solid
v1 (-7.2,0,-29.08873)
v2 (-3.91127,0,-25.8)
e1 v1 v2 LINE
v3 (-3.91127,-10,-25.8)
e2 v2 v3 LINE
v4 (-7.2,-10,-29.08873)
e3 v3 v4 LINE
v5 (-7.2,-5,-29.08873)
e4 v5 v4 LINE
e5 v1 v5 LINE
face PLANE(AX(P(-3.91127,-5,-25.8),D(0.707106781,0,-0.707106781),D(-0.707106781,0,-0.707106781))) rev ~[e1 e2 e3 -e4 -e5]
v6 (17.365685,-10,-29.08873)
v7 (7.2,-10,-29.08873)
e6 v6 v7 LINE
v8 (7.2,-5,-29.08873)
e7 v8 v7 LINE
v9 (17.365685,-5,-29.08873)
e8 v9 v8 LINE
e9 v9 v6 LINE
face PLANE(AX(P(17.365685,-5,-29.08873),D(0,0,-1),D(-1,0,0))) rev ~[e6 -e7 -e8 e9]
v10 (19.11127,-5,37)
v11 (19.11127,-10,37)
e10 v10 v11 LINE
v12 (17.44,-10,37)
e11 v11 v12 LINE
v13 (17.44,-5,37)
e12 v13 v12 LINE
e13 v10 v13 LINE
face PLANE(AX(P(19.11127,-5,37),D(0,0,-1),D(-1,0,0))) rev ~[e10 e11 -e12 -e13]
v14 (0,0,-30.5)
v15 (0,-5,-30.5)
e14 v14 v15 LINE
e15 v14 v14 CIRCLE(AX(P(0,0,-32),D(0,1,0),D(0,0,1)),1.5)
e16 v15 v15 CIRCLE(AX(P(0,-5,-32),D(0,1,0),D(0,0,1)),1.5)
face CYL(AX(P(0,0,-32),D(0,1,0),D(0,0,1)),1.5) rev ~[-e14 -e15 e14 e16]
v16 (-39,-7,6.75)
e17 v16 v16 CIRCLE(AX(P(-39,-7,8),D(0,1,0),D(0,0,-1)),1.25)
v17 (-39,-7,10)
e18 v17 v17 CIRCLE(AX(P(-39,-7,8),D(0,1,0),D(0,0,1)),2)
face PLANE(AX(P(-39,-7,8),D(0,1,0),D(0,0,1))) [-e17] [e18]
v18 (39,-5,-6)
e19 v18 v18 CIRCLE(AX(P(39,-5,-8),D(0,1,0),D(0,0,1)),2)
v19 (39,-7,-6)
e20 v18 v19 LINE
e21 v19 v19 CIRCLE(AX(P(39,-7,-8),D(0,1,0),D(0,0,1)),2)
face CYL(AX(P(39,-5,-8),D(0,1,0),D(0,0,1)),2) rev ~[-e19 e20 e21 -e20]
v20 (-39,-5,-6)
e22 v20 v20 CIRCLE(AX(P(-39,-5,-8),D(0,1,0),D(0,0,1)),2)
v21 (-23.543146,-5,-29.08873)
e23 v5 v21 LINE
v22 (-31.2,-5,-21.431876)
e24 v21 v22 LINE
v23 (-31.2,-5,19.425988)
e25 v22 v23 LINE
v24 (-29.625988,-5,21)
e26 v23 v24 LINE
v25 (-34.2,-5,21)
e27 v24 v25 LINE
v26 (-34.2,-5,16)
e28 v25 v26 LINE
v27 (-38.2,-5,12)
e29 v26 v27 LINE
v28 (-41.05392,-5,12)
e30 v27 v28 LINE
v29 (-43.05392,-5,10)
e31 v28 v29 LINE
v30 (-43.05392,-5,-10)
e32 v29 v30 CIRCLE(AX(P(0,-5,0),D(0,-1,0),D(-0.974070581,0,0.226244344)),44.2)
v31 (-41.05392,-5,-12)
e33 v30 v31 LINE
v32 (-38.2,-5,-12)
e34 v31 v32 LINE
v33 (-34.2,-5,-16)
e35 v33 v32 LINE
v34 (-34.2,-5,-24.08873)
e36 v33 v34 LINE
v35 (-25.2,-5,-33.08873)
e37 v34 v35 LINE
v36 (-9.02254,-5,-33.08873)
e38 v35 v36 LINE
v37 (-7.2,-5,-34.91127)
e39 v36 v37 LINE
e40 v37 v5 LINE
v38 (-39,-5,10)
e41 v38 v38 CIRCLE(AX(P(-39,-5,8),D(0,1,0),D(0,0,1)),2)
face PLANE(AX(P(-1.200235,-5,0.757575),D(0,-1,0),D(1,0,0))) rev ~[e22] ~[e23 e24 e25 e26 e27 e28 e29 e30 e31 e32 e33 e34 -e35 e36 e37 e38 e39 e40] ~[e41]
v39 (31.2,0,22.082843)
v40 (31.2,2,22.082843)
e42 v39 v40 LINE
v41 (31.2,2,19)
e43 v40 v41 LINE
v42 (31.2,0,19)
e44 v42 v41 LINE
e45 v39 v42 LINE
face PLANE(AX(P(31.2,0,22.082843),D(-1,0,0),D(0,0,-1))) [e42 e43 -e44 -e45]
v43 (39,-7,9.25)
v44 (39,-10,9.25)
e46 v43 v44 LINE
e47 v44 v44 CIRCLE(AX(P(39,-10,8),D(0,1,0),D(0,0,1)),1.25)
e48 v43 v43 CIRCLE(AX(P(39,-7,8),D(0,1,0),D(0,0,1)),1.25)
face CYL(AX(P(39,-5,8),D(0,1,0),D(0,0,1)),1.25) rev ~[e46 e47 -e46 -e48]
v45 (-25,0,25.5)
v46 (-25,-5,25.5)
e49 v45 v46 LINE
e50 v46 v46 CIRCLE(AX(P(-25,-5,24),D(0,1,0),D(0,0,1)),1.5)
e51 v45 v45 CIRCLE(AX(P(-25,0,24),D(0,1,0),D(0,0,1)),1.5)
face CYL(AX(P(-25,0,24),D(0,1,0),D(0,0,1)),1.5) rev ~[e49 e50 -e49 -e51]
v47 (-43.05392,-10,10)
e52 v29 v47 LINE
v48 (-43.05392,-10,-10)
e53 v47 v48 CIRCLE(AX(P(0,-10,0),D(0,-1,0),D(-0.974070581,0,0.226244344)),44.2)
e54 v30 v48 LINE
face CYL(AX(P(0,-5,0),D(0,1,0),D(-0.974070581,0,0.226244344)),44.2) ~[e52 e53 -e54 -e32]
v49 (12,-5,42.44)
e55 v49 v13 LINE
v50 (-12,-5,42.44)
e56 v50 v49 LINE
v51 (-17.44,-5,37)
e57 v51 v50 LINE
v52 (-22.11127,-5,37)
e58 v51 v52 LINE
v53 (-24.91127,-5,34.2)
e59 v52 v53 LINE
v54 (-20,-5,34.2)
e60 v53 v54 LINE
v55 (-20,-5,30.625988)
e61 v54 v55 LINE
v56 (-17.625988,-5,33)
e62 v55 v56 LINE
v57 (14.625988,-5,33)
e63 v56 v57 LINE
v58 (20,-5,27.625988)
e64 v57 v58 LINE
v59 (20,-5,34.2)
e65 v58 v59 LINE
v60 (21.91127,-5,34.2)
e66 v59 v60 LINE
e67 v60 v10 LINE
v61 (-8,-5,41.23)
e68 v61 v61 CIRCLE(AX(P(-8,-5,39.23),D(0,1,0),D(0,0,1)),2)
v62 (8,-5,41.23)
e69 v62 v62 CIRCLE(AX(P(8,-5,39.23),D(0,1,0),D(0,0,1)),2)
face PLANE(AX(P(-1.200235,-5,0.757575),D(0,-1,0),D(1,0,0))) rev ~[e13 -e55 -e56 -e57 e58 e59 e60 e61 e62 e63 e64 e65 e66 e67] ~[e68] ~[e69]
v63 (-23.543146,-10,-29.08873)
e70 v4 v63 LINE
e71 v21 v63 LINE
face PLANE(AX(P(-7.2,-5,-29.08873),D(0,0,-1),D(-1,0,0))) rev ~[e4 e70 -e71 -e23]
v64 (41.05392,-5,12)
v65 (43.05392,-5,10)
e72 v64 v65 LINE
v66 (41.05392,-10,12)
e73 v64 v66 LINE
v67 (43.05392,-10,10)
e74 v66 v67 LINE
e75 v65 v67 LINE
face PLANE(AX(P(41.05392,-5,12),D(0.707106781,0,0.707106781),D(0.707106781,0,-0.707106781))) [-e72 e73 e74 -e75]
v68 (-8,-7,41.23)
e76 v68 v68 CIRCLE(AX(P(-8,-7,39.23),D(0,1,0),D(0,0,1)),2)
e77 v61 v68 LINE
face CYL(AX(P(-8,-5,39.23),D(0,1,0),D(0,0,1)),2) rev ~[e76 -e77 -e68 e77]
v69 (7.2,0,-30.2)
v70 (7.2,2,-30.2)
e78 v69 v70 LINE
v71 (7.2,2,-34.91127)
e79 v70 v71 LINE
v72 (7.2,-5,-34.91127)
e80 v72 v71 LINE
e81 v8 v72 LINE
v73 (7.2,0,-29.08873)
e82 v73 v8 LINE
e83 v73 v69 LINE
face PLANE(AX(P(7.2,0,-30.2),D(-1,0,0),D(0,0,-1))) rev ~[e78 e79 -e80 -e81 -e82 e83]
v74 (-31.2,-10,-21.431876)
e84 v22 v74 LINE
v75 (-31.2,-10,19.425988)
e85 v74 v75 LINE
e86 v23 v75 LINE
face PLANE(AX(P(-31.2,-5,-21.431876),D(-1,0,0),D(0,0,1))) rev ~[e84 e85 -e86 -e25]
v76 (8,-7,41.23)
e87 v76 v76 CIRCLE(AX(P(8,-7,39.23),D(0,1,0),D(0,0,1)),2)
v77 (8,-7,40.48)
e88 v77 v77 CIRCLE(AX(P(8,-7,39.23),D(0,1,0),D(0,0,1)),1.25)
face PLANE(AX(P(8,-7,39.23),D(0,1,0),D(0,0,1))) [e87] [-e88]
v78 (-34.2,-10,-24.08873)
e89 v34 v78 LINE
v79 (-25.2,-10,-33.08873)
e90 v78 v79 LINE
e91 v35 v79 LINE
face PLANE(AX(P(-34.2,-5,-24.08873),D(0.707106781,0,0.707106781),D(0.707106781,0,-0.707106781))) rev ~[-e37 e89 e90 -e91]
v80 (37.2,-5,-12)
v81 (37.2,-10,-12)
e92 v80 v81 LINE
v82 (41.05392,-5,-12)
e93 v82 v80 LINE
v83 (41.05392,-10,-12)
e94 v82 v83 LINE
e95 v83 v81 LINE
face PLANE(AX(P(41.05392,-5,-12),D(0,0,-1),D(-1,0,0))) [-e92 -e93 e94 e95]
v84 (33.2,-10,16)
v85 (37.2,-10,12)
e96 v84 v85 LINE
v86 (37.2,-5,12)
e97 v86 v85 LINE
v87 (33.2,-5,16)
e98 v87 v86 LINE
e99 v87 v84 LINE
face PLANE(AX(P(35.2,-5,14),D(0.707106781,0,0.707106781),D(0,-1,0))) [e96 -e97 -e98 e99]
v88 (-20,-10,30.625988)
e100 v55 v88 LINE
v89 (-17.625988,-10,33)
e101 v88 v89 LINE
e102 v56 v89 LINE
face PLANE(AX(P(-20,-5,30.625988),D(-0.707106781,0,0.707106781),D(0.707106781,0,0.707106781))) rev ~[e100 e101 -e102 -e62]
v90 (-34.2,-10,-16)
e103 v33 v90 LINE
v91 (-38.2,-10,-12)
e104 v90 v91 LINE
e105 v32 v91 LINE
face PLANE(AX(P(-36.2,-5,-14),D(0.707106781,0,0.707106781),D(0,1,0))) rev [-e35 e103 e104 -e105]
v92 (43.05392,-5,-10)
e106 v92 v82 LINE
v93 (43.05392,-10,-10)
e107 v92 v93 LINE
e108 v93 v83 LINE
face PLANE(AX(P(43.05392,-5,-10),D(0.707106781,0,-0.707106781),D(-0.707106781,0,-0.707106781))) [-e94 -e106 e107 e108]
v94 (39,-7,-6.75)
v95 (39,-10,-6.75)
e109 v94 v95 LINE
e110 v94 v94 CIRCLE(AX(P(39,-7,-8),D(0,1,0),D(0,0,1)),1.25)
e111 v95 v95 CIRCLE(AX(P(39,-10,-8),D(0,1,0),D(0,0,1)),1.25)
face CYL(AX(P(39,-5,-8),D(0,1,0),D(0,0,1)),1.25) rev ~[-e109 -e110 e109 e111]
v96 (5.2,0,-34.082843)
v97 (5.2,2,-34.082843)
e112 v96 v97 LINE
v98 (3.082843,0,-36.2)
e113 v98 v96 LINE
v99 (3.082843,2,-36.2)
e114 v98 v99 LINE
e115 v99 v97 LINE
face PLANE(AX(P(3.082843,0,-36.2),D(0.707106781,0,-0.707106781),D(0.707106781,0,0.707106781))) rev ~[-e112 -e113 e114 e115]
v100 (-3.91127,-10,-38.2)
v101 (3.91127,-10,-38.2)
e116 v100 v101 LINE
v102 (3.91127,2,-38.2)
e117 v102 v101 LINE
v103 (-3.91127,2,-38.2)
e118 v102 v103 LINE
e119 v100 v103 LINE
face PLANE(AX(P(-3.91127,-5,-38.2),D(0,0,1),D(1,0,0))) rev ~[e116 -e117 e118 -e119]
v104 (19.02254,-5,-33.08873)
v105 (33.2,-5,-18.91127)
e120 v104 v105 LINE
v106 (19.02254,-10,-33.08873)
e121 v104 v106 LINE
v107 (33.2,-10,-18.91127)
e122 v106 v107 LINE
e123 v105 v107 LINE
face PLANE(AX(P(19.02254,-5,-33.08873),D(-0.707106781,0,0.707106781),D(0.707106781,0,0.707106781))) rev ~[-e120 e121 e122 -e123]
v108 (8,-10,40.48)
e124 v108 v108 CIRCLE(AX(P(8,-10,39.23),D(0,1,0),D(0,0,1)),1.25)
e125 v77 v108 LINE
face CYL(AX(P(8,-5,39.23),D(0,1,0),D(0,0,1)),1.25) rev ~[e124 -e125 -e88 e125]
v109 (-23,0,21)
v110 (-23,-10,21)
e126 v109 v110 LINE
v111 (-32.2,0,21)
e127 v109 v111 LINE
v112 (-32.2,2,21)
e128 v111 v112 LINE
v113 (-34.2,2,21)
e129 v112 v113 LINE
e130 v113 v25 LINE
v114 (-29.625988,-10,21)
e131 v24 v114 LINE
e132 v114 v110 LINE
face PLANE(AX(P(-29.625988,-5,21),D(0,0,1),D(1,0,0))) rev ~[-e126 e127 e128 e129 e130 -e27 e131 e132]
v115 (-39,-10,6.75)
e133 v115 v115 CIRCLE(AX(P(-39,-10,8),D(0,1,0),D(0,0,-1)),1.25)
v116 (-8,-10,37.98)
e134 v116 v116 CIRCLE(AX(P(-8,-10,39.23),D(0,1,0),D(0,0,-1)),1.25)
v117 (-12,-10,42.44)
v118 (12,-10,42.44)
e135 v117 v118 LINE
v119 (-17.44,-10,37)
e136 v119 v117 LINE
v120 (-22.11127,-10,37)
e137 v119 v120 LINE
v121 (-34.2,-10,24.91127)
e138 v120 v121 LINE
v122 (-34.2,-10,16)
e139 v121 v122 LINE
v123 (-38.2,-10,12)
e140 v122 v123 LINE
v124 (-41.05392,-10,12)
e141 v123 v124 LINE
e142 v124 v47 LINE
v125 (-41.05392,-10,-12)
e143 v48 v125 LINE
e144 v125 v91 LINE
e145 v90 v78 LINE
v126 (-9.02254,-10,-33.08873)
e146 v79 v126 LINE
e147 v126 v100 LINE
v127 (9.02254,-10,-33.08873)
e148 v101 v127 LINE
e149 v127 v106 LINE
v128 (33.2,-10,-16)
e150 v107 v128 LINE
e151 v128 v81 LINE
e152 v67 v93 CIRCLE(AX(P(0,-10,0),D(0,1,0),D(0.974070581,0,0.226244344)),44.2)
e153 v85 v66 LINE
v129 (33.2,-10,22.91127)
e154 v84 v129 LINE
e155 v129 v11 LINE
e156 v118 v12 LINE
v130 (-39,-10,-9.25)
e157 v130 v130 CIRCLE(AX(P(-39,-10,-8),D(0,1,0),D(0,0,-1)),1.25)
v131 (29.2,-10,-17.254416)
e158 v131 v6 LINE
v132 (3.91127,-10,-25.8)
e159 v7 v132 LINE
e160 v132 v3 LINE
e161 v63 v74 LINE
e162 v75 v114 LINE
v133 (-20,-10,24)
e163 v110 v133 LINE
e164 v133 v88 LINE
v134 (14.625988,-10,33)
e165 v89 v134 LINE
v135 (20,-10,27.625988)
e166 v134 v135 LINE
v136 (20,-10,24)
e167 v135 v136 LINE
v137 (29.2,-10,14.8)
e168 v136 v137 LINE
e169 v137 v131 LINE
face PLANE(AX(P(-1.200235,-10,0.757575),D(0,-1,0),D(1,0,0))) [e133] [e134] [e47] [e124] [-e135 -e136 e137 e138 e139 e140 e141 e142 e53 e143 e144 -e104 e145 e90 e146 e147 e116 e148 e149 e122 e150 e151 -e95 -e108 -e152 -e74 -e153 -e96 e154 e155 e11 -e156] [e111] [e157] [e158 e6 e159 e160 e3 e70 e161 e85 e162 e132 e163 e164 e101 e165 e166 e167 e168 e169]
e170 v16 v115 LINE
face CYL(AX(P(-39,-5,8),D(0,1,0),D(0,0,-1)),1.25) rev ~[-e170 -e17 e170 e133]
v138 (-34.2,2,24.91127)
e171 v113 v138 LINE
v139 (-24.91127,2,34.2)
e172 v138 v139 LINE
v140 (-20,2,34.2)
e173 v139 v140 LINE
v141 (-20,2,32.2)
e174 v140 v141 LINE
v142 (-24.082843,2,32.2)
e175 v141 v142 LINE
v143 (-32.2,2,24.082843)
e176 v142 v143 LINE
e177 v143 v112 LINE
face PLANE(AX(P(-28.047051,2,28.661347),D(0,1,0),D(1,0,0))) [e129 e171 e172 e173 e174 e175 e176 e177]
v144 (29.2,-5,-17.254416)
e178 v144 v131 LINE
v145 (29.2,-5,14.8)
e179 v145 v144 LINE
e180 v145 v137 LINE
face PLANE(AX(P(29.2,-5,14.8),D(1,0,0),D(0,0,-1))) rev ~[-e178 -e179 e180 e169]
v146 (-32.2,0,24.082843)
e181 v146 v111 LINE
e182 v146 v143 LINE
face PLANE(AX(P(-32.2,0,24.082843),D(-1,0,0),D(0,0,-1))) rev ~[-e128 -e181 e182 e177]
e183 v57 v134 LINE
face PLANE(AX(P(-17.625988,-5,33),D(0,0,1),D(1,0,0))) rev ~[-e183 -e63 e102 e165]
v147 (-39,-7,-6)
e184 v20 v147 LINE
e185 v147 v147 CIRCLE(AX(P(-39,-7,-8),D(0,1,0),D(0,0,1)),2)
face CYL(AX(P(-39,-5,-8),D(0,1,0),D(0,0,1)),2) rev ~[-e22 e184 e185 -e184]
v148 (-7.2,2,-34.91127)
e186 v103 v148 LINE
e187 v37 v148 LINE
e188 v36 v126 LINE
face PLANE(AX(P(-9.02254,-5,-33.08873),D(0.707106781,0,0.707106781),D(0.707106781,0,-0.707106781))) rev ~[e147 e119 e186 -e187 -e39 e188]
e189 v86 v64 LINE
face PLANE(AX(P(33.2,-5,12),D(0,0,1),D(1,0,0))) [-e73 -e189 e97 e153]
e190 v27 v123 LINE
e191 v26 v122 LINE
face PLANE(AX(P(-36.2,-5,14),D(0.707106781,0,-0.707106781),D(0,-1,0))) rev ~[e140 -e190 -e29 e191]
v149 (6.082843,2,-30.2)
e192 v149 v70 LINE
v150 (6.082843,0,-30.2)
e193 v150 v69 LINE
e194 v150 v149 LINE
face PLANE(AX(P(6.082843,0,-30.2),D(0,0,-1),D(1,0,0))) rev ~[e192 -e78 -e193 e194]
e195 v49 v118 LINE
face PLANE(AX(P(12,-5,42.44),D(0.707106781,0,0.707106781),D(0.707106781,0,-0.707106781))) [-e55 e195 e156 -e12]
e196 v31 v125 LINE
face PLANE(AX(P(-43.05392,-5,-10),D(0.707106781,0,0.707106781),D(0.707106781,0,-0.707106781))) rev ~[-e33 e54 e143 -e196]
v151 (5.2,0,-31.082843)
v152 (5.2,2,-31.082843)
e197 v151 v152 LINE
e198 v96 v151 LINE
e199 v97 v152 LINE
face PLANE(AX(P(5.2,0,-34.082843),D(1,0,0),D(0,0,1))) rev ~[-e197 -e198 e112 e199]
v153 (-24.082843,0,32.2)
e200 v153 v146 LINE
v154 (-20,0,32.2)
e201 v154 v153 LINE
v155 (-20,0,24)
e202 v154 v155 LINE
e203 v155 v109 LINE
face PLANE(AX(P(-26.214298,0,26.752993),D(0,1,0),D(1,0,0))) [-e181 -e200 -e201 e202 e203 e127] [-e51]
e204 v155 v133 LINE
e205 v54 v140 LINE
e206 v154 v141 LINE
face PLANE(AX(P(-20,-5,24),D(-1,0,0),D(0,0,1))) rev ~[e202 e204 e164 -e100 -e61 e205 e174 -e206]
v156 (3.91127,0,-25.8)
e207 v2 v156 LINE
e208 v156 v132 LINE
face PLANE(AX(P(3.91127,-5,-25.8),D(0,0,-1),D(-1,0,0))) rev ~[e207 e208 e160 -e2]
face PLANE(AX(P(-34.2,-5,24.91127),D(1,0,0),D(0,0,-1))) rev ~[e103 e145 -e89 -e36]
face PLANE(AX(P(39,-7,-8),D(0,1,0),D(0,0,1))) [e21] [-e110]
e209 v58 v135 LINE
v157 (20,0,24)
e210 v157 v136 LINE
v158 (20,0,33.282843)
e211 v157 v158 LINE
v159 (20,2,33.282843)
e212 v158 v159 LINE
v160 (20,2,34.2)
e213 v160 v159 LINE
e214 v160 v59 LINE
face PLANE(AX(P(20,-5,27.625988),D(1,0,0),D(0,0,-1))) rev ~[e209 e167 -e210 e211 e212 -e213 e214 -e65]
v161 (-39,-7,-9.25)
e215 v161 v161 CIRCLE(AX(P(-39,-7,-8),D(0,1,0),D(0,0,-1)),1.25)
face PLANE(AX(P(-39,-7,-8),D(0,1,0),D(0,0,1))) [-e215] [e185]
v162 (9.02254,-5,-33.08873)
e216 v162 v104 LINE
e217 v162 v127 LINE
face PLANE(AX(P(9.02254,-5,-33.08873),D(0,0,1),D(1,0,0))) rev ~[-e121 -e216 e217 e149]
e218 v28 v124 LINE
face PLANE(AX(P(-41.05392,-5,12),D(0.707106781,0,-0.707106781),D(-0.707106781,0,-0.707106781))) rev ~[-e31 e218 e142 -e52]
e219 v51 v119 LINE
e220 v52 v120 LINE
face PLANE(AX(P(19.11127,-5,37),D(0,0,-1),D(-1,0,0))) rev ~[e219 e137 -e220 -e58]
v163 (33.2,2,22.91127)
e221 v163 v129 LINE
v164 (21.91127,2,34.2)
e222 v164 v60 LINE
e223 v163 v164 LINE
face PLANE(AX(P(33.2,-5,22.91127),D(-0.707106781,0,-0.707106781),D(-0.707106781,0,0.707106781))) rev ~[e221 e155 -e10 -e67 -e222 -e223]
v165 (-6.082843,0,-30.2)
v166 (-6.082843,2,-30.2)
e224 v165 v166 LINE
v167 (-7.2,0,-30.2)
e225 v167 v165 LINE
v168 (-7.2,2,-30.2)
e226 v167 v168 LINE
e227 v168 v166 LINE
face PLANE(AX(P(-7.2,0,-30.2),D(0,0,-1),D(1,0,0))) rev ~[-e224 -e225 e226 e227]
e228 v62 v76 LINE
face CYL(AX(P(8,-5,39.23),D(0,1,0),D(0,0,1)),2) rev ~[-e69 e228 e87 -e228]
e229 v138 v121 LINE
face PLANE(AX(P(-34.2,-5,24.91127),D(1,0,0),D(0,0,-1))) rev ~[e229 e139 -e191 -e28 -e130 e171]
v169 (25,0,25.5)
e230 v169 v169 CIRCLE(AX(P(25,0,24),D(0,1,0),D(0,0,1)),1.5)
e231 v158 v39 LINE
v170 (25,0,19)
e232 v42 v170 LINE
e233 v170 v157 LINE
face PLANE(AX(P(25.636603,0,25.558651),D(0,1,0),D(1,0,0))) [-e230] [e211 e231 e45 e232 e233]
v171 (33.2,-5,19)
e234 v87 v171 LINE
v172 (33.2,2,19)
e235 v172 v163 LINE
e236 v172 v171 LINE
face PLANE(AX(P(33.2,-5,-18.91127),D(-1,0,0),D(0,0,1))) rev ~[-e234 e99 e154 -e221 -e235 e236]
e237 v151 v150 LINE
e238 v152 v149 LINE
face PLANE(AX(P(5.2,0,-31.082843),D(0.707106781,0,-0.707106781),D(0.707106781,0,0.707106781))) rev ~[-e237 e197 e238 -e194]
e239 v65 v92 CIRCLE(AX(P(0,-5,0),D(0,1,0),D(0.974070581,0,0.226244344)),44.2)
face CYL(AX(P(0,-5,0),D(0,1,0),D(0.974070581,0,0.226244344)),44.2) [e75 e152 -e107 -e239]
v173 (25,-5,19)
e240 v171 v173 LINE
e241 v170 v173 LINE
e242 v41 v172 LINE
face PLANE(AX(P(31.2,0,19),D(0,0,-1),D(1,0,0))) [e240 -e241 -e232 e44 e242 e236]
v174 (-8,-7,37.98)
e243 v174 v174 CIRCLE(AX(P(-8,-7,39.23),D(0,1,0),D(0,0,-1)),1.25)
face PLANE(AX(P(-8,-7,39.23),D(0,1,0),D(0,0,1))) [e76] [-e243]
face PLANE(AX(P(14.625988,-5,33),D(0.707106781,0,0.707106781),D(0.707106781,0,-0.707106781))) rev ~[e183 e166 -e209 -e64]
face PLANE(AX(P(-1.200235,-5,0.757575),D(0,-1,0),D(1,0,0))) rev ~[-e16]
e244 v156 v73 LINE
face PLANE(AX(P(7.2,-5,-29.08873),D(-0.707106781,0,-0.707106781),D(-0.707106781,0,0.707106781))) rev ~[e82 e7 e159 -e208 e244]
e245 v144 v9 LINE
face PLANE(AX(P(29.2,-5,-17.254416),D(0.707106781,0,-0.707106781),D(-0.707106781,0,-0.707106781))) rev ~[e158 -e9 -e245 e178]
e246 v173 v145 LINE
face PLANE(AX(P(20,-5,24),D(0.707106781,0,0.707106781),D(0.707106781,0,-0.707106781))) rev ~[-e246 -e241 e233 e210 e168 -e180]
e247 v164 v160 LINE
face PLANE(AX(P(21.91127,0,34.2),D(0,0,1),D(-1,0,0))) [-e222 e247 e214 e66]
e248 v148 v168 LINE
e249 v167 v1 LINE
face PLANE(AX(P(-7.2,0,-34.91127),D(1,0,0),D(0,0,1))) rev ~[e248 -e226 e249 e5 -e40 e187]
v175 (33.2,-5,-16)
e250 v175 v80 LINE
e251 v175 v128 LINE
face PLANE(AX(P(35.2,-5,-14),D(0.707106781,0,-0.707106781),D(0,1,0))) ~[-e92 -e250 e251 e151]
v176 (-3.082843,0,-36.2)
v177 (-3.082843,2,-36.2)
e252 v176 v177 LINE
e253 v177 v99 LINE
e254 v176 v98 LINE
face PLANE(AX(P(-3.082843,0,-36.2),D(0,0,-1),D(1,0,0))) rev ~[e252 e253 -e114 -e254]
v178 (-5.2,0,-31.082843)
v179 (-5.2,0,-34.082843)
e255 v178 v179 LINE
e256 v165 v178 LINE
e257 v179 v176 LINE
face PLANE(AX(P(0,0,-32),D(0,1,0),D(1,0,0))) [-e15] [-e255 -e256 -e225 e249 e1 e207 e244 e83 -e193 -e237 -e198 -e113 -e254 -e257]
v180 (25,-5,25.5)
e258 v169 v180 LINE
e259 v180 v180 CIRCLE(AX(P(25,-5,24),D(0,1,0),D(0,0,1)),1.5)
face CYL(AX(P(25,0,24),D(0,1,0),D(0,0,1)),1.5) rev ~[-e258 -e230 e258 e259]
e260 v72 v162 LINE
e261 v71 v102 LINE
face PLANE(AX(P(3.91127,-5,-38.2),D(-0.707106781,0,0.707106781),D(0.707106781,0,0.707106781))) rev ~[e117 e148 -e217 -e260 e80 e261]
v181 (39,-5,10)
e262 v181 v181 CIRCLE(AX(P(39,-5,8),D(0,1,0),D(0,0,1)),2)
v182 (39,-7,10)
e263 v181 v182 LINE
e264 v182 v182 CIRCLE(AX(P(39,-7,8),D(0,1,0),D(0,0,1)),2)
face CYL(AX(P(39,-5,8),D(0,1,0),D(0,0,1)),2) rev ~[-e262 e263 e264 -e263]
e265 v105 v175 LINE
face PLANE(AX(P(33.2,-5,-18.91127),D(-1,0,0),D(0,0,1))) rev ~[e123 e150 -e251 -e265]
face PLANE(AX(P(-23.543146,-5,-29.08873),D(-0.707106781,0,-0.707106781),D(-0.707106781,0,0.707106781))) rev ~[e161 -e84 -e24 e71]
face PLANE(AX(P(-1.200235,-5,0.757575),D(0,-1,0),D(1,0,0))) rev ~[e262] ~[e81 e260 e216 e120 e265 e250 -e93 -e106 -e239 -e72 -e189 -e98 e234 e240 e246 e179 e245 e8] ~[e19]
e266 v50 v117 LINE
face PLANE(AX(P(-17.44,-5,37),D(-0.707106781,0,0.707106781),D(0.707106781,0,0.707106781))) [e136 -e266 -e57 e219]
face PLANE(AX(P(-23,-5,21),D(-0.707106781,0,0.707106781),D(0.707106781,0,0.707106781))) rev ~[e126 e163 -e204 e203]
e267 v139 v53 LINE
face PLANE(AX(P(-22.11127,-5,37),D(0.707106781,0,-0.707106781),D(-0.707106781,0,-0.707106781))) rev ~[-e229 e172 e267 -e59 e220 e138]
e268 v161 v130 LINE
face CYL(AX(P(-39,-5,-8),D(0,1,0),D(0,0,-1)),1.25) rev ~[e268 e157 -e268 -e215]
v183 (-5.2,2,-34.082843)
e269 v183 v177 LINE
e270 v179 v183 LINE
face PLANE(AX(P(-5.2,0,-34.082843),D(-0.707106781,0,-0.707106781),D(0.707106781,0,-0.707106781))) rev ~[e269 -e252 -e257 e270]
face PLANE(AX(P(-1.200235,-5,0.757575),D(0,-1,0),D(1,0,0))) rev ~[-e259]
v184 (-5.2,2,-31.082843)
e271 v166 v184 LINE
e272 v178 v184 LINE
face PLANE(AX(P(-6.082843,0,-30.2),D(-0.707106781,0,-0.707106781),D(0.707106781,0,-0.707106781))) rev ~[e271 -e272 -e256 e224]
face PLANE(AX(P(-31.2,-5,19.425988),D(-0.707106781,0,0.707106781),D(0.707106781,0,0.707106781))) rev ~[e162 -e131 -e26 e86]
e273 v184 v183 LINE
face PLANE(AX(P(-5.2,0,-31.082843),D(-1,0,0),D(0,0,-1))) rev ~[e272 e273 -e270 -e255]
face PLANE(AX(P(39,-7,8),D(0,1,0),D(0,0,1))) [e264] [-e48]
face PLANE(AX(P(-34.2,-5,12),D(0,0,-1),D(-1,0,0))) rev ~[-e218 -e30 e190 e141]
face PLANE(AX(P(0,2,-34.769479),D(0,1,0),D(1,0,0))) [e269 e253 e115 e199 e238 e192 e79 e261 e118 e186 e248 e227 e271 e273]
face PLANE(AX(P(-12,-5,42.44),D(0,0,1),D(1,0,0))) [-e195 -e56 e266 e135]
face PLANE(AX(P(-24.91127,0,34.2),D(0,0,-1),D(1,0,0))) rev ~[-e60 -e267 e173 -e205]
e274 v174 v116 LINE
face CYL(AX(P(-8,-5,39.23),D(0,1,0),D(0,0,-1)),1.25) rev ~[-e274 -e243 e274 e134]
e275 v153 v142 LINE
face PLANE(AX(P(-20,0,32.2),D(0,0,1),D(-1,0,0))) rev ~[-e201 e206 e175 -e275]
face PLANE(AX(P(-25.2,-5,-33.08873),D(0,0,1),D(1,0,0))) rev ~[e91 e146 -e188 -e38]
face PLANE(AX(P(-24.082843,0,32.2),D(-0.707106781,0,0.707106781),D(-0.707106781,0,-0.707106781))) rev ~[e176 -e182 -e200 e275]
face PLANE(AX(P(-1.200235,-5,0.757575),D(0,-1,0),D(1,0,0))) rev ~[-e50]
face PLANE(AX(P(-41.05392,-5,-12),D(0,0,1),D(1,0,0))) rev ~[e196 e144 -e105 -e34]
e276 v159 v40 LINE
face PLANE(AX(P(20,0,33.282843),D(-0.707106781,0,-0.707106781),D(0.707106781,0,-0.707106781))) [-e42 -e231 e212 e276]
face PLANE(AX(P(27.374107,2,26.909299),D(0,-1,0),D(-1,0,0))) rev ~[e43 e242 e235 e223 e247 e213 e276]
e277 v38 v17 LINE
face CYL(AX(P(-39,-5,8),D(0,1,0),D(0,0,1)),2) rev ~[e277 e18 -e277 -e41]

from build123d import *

# Parameters (mm, degrees)
SKETCH_2_R          = 1.5
EXTRUDE_2_DEPTH     = 5
EXTRUDE_2_2_DEPTH   = 5
EXTRUDE_2_3_DEPTH   = 5
EXTRUDE_5_DEPTH     = 2
EXTRUDE_6_DEPTH     = 2
EXTRUDE_7_DEPTH     = 5
SKETCH_11_R         = 1.25
EXTRUDE_8_DEPTH     = 5
CHAMFER_1_SIZE      = 4
SKETCH_12_R         = 2
CUT_EXTRUDE_1_DEPTH = 2


with BuildPart() as part:
    # Эскиз2 → Бобышка-Вытянуть2 (new body)
    with BuildSketch(Plane(origin=(0, 0, 0), x_dir=(1, 0, 0), z_dir=(0, 1, 0))):
        Polygon((7.2, 29.088730163), (7.2, 34.911269837), (3.911269837, 38.2), (-3.911269837, 38.2), (-7.2, 34.911269837), (-7.2, 29.088730163), (-3.911269837, 25.8), (3.911269837, 25.8), align=None)
        with Locations(Location((0, 32, 0), (0, 0, 270))):
            Circle(SKETCH_2_R, mode=Mode.SUBTRACT)
    extrude(amount=-EXTRUDE_2_DEPTH)



with BuildPart() as body_2:
    # Эскиз2 → Extrude 2 2 (new body)
    with BuildSketch(Plane(origin=(0, 0, 0), x_dir=(1, 0, 0), z_dir=(0, 1, 0))):
        Polygon((20, -24), (20, -33), (20, -34.2), (21.911269837, -34.2), (33.2, -22.911269837), (33.2, -19), (25, -19), align=None)
        with Locations(Location((25, -24, 0), (0, 0, 270))):
            Circle(SKETCH_2_R, mode=Mode.SUBTRACT)
    extrude(amount=-EXTRUDE_2_2_DEPTH)

    # Эскиз5 → Бобышка-Вытянуть6 (add)
    with BuildSketch(Plane(origin=(0, 0, 0), x_dir=(1, 0, 0), z_dir=(0, 1, 0))):
        Polygon((31.2, -19), (33.2, -19), (33.2, -22.911269837), (21.911269837, -34.2), (20, -34.2), (20, -33.282842712), (31.2, -22.082842712), align=None)
    extrude(amount=EXTRUDE_6_DEPTH)


with BuildPart() as body_3:
    # Эскиз2 → Extrude 2 3 (new body)
    with BuildSketch(Plane(origin=(0, 0, 0), x_dir=(1, 0, 0), z_dir=(0, 1, 0))):
        Polygon((-20, -34.2), (-20, -24), (-23, -21), (-34.2, -21), (-34.2, -24.911269837), (-24.911269837, -34.2), align=None)
        with Locations(Location((-25, -24, 0), (0, 0, 270))):
            Circle(SKETCH_2_R, mode=Mode.SUBTRACT)
    extrude(amount=-EXTRUDE_2_3_DEPTH)


with BuildPart() as part_1:
    add(part.part)

    add(body_3.part)  # Бобышка-Вытянуть5 merges body 3
    # Эскиз3 → Бобышка-Вытянуть5 (add)
    with BuildSketch(Plane(origin=(0, 0, 0), x_dir=(1, 0, 0), z_dir=(0, 1, 0))):
        Polygon((7.2, 30.2), (7.2, 34.911269837), (3.911269837, 38.2), (-3.911269837, 38.2), (-7.2, 34.911269837), (-7.2, 30.2), (-6.082842712, 30.2), (-5.2, 31.082842712), (-5.2, 34.082842712), (-3.082842712, 36.2), (3.082842712, 36.2), (5.2, 34.082842712), (5.2, 31.082842712), (6.082842712, 30.2), align=None)
        Polygon((-24.911269837, -34.2), (-20, -34.2), (-20, -32.2), (-24.082842712, -32.2), (-32.2, -24.082842712), (-32.2, -21), (-34.2, -21), (-34.2, -24.911269837), align=None)
    extrude(amount=EXTRUDE_5_DEPTH)


    add(body_2.part)  # Бобышка-Вытянуть7 merges body 2
    # Эскиз6 → Бобышка-Вытянуть7 (add)
    with BuildSketch(Plane.XZ.offset(5)):
        Polygon((-7.2, -34.911269837), (-3.911269837, -38.2), (3.911269837, -38.2), (7.2, -34.911269837), (9.022539674, -33.088730163), (19.022539674, -33.088730163), (33.2, -18.911269837), (33.2, 19), (33.2, 22.911269837), (21.911269837, 34.2), (19.111269837, 37), (13, 37), (-8, 37), (-22.111269837, 37), (-24.911269837, 34.2), (-34.2, 24.911269837), (-34.2, 21), (-34.2, -24.088730163), (-25.2, -33.088730163), (-9.022539674, -33.088730163), align=None)
        Polygon((7.2, -29.088730163), (3.911269837, -25.8), (-3.911269837, -25.8), (-7.2, -29.088730163), (-23.543145751, -29.088730163), (-31.2, -21.431875913), (-31.2, 19.425988463), (-29.625988463, 21), (-23, 21), (-20, 24), (-20, 30.625988463), (-17.625988463, 33), (14.625988463, 33), (20, 27.625988463), (20, 24), (25, 19), (29.2, 14.8), (29.2, -17.254415588), (17.365685425, -29.088730163), align=None, mode=Mode.SUBTRACT)
    extrude(amount=EXTRUDE_7_DEPTH)

    # Эскиз11 → Бобышка-Вытянуть8 (add)
    # profile 1 of 3: a face of its own
    with BuildSketch(Plane(origin=(0, -5, 0), x_dir=(1, 0, 0), z_dir=(0, 1, 0))):
        with BuildLine():
            Line((41.053919682, 12), (33.2, 12))
            Line((33.2, 12), (33.2, -12))
            Line((33.2, -12), (41.053919682, -12))
            Line((41.053919682, -12), (43.053919682, -10))
            ThreePointArc((43.053919682, -10), (44.2, 0), (43.053919682, 10))
            Line((43.053919682, 10), (41.053919682, 12))
        make_face()
        with Locations(Location((39, 8, 0), (0, 0, 270))):
            Circle(SKETCH_11_R, mode=Mode.SUBTRACT)
        with Locations(Location((39, -8, 0), (0, 0, 270))):
            Circle(SKETCH_11_R, mode=Mode.SUBTRACT)
    # profile 2 of 3: a face of its own
    with BuildSketch(Plane(origin=(0, -5, 0), x_dir=(1, 0, 0), z_dir=(0, 1, 0))):
        with BuildLine():
            Line((-41.053919682, 12), (-34.2, 12))
            Line((-34.2, 12), (-34.2, -12))
            Line((-34.2, -12), (-41.053919682, -12))
            Line((-41.053919682, -12), (-43.053919682, -10))
            ThreePointArc((-43.053919682, -10), (-44.2, 0), (-43.053919682, 10))
            Line((-43.053919682, 10), (-41.053919682, 12))
        make_face()
        with Locations(Location((-39, 8, 0), (0, 0, 90))):
            Circle(SKETCH_11_R, mode=Mode.SUBTRACT)
        with Locations(Location((-39, -8, 0), (0, 0, 90))):
            Circle(SKETCH_11_R, mode=Mode.SUBTRACT)
    # profile 3 of 3: a face of its own
    with BuildSketch(Plane(origin=(0, -5, 0), x_dir=(1, 0, 0), z_dir=(0, 1, 0))):
        Polygon((-12, -42.44), (12, -42.44), (17.44, -37), (-17.44, -37), align=None)
        with Locations(Location((8, -39.23, 0), (0, 0, 270))):
            Circle(SKETCH_11_R, mode=Mode.SUBTRACT)
        with Locations(Location((-8, -39.23, 0), (0, 0, 90))):
            Circle(SKETCH_11_R, mode=Mode.SUBTRACT)
    extrude(amount=-EXTRUDE_8_DEPTH)

    # Фаска1
    chamfer_1_edges = [part_1.edges().sort_by_distance(p)[0] for p in [
        (33.2, -7.5, 12),
        (33.2, -7.5, -12),
        (-34.2, -7.5, -12),
        (-34.2, -7.5, 12),
    ]]
    chamfer(chamfer_1_edges, length=CHAMFER_1_SIZE)

    # Эскиз12 → Вырез-Вытянуть1 (cut)
    with BuildSketch(Plane(origin=(0, -5, 0), x_dir=(1, 0, 0), z_dir=(0, 1, 0))):
        with Locations(Location((-39, 8, 0), (0, 0, 270))):
            Circle(SKETCH_12_R)
        with Locations(Location((-39, -8, 0), (0, 0, 270))):
            Circle(SKETCH_12_R)
        with Locations(Location((39, 8, 0), (0, 0, 270))):
            Circle(SKETCH_12_R)
        with Locations(Location((39, -8, 0), (0, 0, 270))):
            Circle(SKETCH_12_R)
        with Locations(Location((8, -39.23, 0), (0, 0, 270))):
            Circle(SKETCH_12_R)
        with Locations(Location((-8, -39.23, 0), (0, 0, 270))):
            Circle(SKETCH_12_R)
    extrude(amount=-CUT_EXTRUDE_1_DEPTH, mode=Mode.SUBTRACT)


solid = part_1.part
